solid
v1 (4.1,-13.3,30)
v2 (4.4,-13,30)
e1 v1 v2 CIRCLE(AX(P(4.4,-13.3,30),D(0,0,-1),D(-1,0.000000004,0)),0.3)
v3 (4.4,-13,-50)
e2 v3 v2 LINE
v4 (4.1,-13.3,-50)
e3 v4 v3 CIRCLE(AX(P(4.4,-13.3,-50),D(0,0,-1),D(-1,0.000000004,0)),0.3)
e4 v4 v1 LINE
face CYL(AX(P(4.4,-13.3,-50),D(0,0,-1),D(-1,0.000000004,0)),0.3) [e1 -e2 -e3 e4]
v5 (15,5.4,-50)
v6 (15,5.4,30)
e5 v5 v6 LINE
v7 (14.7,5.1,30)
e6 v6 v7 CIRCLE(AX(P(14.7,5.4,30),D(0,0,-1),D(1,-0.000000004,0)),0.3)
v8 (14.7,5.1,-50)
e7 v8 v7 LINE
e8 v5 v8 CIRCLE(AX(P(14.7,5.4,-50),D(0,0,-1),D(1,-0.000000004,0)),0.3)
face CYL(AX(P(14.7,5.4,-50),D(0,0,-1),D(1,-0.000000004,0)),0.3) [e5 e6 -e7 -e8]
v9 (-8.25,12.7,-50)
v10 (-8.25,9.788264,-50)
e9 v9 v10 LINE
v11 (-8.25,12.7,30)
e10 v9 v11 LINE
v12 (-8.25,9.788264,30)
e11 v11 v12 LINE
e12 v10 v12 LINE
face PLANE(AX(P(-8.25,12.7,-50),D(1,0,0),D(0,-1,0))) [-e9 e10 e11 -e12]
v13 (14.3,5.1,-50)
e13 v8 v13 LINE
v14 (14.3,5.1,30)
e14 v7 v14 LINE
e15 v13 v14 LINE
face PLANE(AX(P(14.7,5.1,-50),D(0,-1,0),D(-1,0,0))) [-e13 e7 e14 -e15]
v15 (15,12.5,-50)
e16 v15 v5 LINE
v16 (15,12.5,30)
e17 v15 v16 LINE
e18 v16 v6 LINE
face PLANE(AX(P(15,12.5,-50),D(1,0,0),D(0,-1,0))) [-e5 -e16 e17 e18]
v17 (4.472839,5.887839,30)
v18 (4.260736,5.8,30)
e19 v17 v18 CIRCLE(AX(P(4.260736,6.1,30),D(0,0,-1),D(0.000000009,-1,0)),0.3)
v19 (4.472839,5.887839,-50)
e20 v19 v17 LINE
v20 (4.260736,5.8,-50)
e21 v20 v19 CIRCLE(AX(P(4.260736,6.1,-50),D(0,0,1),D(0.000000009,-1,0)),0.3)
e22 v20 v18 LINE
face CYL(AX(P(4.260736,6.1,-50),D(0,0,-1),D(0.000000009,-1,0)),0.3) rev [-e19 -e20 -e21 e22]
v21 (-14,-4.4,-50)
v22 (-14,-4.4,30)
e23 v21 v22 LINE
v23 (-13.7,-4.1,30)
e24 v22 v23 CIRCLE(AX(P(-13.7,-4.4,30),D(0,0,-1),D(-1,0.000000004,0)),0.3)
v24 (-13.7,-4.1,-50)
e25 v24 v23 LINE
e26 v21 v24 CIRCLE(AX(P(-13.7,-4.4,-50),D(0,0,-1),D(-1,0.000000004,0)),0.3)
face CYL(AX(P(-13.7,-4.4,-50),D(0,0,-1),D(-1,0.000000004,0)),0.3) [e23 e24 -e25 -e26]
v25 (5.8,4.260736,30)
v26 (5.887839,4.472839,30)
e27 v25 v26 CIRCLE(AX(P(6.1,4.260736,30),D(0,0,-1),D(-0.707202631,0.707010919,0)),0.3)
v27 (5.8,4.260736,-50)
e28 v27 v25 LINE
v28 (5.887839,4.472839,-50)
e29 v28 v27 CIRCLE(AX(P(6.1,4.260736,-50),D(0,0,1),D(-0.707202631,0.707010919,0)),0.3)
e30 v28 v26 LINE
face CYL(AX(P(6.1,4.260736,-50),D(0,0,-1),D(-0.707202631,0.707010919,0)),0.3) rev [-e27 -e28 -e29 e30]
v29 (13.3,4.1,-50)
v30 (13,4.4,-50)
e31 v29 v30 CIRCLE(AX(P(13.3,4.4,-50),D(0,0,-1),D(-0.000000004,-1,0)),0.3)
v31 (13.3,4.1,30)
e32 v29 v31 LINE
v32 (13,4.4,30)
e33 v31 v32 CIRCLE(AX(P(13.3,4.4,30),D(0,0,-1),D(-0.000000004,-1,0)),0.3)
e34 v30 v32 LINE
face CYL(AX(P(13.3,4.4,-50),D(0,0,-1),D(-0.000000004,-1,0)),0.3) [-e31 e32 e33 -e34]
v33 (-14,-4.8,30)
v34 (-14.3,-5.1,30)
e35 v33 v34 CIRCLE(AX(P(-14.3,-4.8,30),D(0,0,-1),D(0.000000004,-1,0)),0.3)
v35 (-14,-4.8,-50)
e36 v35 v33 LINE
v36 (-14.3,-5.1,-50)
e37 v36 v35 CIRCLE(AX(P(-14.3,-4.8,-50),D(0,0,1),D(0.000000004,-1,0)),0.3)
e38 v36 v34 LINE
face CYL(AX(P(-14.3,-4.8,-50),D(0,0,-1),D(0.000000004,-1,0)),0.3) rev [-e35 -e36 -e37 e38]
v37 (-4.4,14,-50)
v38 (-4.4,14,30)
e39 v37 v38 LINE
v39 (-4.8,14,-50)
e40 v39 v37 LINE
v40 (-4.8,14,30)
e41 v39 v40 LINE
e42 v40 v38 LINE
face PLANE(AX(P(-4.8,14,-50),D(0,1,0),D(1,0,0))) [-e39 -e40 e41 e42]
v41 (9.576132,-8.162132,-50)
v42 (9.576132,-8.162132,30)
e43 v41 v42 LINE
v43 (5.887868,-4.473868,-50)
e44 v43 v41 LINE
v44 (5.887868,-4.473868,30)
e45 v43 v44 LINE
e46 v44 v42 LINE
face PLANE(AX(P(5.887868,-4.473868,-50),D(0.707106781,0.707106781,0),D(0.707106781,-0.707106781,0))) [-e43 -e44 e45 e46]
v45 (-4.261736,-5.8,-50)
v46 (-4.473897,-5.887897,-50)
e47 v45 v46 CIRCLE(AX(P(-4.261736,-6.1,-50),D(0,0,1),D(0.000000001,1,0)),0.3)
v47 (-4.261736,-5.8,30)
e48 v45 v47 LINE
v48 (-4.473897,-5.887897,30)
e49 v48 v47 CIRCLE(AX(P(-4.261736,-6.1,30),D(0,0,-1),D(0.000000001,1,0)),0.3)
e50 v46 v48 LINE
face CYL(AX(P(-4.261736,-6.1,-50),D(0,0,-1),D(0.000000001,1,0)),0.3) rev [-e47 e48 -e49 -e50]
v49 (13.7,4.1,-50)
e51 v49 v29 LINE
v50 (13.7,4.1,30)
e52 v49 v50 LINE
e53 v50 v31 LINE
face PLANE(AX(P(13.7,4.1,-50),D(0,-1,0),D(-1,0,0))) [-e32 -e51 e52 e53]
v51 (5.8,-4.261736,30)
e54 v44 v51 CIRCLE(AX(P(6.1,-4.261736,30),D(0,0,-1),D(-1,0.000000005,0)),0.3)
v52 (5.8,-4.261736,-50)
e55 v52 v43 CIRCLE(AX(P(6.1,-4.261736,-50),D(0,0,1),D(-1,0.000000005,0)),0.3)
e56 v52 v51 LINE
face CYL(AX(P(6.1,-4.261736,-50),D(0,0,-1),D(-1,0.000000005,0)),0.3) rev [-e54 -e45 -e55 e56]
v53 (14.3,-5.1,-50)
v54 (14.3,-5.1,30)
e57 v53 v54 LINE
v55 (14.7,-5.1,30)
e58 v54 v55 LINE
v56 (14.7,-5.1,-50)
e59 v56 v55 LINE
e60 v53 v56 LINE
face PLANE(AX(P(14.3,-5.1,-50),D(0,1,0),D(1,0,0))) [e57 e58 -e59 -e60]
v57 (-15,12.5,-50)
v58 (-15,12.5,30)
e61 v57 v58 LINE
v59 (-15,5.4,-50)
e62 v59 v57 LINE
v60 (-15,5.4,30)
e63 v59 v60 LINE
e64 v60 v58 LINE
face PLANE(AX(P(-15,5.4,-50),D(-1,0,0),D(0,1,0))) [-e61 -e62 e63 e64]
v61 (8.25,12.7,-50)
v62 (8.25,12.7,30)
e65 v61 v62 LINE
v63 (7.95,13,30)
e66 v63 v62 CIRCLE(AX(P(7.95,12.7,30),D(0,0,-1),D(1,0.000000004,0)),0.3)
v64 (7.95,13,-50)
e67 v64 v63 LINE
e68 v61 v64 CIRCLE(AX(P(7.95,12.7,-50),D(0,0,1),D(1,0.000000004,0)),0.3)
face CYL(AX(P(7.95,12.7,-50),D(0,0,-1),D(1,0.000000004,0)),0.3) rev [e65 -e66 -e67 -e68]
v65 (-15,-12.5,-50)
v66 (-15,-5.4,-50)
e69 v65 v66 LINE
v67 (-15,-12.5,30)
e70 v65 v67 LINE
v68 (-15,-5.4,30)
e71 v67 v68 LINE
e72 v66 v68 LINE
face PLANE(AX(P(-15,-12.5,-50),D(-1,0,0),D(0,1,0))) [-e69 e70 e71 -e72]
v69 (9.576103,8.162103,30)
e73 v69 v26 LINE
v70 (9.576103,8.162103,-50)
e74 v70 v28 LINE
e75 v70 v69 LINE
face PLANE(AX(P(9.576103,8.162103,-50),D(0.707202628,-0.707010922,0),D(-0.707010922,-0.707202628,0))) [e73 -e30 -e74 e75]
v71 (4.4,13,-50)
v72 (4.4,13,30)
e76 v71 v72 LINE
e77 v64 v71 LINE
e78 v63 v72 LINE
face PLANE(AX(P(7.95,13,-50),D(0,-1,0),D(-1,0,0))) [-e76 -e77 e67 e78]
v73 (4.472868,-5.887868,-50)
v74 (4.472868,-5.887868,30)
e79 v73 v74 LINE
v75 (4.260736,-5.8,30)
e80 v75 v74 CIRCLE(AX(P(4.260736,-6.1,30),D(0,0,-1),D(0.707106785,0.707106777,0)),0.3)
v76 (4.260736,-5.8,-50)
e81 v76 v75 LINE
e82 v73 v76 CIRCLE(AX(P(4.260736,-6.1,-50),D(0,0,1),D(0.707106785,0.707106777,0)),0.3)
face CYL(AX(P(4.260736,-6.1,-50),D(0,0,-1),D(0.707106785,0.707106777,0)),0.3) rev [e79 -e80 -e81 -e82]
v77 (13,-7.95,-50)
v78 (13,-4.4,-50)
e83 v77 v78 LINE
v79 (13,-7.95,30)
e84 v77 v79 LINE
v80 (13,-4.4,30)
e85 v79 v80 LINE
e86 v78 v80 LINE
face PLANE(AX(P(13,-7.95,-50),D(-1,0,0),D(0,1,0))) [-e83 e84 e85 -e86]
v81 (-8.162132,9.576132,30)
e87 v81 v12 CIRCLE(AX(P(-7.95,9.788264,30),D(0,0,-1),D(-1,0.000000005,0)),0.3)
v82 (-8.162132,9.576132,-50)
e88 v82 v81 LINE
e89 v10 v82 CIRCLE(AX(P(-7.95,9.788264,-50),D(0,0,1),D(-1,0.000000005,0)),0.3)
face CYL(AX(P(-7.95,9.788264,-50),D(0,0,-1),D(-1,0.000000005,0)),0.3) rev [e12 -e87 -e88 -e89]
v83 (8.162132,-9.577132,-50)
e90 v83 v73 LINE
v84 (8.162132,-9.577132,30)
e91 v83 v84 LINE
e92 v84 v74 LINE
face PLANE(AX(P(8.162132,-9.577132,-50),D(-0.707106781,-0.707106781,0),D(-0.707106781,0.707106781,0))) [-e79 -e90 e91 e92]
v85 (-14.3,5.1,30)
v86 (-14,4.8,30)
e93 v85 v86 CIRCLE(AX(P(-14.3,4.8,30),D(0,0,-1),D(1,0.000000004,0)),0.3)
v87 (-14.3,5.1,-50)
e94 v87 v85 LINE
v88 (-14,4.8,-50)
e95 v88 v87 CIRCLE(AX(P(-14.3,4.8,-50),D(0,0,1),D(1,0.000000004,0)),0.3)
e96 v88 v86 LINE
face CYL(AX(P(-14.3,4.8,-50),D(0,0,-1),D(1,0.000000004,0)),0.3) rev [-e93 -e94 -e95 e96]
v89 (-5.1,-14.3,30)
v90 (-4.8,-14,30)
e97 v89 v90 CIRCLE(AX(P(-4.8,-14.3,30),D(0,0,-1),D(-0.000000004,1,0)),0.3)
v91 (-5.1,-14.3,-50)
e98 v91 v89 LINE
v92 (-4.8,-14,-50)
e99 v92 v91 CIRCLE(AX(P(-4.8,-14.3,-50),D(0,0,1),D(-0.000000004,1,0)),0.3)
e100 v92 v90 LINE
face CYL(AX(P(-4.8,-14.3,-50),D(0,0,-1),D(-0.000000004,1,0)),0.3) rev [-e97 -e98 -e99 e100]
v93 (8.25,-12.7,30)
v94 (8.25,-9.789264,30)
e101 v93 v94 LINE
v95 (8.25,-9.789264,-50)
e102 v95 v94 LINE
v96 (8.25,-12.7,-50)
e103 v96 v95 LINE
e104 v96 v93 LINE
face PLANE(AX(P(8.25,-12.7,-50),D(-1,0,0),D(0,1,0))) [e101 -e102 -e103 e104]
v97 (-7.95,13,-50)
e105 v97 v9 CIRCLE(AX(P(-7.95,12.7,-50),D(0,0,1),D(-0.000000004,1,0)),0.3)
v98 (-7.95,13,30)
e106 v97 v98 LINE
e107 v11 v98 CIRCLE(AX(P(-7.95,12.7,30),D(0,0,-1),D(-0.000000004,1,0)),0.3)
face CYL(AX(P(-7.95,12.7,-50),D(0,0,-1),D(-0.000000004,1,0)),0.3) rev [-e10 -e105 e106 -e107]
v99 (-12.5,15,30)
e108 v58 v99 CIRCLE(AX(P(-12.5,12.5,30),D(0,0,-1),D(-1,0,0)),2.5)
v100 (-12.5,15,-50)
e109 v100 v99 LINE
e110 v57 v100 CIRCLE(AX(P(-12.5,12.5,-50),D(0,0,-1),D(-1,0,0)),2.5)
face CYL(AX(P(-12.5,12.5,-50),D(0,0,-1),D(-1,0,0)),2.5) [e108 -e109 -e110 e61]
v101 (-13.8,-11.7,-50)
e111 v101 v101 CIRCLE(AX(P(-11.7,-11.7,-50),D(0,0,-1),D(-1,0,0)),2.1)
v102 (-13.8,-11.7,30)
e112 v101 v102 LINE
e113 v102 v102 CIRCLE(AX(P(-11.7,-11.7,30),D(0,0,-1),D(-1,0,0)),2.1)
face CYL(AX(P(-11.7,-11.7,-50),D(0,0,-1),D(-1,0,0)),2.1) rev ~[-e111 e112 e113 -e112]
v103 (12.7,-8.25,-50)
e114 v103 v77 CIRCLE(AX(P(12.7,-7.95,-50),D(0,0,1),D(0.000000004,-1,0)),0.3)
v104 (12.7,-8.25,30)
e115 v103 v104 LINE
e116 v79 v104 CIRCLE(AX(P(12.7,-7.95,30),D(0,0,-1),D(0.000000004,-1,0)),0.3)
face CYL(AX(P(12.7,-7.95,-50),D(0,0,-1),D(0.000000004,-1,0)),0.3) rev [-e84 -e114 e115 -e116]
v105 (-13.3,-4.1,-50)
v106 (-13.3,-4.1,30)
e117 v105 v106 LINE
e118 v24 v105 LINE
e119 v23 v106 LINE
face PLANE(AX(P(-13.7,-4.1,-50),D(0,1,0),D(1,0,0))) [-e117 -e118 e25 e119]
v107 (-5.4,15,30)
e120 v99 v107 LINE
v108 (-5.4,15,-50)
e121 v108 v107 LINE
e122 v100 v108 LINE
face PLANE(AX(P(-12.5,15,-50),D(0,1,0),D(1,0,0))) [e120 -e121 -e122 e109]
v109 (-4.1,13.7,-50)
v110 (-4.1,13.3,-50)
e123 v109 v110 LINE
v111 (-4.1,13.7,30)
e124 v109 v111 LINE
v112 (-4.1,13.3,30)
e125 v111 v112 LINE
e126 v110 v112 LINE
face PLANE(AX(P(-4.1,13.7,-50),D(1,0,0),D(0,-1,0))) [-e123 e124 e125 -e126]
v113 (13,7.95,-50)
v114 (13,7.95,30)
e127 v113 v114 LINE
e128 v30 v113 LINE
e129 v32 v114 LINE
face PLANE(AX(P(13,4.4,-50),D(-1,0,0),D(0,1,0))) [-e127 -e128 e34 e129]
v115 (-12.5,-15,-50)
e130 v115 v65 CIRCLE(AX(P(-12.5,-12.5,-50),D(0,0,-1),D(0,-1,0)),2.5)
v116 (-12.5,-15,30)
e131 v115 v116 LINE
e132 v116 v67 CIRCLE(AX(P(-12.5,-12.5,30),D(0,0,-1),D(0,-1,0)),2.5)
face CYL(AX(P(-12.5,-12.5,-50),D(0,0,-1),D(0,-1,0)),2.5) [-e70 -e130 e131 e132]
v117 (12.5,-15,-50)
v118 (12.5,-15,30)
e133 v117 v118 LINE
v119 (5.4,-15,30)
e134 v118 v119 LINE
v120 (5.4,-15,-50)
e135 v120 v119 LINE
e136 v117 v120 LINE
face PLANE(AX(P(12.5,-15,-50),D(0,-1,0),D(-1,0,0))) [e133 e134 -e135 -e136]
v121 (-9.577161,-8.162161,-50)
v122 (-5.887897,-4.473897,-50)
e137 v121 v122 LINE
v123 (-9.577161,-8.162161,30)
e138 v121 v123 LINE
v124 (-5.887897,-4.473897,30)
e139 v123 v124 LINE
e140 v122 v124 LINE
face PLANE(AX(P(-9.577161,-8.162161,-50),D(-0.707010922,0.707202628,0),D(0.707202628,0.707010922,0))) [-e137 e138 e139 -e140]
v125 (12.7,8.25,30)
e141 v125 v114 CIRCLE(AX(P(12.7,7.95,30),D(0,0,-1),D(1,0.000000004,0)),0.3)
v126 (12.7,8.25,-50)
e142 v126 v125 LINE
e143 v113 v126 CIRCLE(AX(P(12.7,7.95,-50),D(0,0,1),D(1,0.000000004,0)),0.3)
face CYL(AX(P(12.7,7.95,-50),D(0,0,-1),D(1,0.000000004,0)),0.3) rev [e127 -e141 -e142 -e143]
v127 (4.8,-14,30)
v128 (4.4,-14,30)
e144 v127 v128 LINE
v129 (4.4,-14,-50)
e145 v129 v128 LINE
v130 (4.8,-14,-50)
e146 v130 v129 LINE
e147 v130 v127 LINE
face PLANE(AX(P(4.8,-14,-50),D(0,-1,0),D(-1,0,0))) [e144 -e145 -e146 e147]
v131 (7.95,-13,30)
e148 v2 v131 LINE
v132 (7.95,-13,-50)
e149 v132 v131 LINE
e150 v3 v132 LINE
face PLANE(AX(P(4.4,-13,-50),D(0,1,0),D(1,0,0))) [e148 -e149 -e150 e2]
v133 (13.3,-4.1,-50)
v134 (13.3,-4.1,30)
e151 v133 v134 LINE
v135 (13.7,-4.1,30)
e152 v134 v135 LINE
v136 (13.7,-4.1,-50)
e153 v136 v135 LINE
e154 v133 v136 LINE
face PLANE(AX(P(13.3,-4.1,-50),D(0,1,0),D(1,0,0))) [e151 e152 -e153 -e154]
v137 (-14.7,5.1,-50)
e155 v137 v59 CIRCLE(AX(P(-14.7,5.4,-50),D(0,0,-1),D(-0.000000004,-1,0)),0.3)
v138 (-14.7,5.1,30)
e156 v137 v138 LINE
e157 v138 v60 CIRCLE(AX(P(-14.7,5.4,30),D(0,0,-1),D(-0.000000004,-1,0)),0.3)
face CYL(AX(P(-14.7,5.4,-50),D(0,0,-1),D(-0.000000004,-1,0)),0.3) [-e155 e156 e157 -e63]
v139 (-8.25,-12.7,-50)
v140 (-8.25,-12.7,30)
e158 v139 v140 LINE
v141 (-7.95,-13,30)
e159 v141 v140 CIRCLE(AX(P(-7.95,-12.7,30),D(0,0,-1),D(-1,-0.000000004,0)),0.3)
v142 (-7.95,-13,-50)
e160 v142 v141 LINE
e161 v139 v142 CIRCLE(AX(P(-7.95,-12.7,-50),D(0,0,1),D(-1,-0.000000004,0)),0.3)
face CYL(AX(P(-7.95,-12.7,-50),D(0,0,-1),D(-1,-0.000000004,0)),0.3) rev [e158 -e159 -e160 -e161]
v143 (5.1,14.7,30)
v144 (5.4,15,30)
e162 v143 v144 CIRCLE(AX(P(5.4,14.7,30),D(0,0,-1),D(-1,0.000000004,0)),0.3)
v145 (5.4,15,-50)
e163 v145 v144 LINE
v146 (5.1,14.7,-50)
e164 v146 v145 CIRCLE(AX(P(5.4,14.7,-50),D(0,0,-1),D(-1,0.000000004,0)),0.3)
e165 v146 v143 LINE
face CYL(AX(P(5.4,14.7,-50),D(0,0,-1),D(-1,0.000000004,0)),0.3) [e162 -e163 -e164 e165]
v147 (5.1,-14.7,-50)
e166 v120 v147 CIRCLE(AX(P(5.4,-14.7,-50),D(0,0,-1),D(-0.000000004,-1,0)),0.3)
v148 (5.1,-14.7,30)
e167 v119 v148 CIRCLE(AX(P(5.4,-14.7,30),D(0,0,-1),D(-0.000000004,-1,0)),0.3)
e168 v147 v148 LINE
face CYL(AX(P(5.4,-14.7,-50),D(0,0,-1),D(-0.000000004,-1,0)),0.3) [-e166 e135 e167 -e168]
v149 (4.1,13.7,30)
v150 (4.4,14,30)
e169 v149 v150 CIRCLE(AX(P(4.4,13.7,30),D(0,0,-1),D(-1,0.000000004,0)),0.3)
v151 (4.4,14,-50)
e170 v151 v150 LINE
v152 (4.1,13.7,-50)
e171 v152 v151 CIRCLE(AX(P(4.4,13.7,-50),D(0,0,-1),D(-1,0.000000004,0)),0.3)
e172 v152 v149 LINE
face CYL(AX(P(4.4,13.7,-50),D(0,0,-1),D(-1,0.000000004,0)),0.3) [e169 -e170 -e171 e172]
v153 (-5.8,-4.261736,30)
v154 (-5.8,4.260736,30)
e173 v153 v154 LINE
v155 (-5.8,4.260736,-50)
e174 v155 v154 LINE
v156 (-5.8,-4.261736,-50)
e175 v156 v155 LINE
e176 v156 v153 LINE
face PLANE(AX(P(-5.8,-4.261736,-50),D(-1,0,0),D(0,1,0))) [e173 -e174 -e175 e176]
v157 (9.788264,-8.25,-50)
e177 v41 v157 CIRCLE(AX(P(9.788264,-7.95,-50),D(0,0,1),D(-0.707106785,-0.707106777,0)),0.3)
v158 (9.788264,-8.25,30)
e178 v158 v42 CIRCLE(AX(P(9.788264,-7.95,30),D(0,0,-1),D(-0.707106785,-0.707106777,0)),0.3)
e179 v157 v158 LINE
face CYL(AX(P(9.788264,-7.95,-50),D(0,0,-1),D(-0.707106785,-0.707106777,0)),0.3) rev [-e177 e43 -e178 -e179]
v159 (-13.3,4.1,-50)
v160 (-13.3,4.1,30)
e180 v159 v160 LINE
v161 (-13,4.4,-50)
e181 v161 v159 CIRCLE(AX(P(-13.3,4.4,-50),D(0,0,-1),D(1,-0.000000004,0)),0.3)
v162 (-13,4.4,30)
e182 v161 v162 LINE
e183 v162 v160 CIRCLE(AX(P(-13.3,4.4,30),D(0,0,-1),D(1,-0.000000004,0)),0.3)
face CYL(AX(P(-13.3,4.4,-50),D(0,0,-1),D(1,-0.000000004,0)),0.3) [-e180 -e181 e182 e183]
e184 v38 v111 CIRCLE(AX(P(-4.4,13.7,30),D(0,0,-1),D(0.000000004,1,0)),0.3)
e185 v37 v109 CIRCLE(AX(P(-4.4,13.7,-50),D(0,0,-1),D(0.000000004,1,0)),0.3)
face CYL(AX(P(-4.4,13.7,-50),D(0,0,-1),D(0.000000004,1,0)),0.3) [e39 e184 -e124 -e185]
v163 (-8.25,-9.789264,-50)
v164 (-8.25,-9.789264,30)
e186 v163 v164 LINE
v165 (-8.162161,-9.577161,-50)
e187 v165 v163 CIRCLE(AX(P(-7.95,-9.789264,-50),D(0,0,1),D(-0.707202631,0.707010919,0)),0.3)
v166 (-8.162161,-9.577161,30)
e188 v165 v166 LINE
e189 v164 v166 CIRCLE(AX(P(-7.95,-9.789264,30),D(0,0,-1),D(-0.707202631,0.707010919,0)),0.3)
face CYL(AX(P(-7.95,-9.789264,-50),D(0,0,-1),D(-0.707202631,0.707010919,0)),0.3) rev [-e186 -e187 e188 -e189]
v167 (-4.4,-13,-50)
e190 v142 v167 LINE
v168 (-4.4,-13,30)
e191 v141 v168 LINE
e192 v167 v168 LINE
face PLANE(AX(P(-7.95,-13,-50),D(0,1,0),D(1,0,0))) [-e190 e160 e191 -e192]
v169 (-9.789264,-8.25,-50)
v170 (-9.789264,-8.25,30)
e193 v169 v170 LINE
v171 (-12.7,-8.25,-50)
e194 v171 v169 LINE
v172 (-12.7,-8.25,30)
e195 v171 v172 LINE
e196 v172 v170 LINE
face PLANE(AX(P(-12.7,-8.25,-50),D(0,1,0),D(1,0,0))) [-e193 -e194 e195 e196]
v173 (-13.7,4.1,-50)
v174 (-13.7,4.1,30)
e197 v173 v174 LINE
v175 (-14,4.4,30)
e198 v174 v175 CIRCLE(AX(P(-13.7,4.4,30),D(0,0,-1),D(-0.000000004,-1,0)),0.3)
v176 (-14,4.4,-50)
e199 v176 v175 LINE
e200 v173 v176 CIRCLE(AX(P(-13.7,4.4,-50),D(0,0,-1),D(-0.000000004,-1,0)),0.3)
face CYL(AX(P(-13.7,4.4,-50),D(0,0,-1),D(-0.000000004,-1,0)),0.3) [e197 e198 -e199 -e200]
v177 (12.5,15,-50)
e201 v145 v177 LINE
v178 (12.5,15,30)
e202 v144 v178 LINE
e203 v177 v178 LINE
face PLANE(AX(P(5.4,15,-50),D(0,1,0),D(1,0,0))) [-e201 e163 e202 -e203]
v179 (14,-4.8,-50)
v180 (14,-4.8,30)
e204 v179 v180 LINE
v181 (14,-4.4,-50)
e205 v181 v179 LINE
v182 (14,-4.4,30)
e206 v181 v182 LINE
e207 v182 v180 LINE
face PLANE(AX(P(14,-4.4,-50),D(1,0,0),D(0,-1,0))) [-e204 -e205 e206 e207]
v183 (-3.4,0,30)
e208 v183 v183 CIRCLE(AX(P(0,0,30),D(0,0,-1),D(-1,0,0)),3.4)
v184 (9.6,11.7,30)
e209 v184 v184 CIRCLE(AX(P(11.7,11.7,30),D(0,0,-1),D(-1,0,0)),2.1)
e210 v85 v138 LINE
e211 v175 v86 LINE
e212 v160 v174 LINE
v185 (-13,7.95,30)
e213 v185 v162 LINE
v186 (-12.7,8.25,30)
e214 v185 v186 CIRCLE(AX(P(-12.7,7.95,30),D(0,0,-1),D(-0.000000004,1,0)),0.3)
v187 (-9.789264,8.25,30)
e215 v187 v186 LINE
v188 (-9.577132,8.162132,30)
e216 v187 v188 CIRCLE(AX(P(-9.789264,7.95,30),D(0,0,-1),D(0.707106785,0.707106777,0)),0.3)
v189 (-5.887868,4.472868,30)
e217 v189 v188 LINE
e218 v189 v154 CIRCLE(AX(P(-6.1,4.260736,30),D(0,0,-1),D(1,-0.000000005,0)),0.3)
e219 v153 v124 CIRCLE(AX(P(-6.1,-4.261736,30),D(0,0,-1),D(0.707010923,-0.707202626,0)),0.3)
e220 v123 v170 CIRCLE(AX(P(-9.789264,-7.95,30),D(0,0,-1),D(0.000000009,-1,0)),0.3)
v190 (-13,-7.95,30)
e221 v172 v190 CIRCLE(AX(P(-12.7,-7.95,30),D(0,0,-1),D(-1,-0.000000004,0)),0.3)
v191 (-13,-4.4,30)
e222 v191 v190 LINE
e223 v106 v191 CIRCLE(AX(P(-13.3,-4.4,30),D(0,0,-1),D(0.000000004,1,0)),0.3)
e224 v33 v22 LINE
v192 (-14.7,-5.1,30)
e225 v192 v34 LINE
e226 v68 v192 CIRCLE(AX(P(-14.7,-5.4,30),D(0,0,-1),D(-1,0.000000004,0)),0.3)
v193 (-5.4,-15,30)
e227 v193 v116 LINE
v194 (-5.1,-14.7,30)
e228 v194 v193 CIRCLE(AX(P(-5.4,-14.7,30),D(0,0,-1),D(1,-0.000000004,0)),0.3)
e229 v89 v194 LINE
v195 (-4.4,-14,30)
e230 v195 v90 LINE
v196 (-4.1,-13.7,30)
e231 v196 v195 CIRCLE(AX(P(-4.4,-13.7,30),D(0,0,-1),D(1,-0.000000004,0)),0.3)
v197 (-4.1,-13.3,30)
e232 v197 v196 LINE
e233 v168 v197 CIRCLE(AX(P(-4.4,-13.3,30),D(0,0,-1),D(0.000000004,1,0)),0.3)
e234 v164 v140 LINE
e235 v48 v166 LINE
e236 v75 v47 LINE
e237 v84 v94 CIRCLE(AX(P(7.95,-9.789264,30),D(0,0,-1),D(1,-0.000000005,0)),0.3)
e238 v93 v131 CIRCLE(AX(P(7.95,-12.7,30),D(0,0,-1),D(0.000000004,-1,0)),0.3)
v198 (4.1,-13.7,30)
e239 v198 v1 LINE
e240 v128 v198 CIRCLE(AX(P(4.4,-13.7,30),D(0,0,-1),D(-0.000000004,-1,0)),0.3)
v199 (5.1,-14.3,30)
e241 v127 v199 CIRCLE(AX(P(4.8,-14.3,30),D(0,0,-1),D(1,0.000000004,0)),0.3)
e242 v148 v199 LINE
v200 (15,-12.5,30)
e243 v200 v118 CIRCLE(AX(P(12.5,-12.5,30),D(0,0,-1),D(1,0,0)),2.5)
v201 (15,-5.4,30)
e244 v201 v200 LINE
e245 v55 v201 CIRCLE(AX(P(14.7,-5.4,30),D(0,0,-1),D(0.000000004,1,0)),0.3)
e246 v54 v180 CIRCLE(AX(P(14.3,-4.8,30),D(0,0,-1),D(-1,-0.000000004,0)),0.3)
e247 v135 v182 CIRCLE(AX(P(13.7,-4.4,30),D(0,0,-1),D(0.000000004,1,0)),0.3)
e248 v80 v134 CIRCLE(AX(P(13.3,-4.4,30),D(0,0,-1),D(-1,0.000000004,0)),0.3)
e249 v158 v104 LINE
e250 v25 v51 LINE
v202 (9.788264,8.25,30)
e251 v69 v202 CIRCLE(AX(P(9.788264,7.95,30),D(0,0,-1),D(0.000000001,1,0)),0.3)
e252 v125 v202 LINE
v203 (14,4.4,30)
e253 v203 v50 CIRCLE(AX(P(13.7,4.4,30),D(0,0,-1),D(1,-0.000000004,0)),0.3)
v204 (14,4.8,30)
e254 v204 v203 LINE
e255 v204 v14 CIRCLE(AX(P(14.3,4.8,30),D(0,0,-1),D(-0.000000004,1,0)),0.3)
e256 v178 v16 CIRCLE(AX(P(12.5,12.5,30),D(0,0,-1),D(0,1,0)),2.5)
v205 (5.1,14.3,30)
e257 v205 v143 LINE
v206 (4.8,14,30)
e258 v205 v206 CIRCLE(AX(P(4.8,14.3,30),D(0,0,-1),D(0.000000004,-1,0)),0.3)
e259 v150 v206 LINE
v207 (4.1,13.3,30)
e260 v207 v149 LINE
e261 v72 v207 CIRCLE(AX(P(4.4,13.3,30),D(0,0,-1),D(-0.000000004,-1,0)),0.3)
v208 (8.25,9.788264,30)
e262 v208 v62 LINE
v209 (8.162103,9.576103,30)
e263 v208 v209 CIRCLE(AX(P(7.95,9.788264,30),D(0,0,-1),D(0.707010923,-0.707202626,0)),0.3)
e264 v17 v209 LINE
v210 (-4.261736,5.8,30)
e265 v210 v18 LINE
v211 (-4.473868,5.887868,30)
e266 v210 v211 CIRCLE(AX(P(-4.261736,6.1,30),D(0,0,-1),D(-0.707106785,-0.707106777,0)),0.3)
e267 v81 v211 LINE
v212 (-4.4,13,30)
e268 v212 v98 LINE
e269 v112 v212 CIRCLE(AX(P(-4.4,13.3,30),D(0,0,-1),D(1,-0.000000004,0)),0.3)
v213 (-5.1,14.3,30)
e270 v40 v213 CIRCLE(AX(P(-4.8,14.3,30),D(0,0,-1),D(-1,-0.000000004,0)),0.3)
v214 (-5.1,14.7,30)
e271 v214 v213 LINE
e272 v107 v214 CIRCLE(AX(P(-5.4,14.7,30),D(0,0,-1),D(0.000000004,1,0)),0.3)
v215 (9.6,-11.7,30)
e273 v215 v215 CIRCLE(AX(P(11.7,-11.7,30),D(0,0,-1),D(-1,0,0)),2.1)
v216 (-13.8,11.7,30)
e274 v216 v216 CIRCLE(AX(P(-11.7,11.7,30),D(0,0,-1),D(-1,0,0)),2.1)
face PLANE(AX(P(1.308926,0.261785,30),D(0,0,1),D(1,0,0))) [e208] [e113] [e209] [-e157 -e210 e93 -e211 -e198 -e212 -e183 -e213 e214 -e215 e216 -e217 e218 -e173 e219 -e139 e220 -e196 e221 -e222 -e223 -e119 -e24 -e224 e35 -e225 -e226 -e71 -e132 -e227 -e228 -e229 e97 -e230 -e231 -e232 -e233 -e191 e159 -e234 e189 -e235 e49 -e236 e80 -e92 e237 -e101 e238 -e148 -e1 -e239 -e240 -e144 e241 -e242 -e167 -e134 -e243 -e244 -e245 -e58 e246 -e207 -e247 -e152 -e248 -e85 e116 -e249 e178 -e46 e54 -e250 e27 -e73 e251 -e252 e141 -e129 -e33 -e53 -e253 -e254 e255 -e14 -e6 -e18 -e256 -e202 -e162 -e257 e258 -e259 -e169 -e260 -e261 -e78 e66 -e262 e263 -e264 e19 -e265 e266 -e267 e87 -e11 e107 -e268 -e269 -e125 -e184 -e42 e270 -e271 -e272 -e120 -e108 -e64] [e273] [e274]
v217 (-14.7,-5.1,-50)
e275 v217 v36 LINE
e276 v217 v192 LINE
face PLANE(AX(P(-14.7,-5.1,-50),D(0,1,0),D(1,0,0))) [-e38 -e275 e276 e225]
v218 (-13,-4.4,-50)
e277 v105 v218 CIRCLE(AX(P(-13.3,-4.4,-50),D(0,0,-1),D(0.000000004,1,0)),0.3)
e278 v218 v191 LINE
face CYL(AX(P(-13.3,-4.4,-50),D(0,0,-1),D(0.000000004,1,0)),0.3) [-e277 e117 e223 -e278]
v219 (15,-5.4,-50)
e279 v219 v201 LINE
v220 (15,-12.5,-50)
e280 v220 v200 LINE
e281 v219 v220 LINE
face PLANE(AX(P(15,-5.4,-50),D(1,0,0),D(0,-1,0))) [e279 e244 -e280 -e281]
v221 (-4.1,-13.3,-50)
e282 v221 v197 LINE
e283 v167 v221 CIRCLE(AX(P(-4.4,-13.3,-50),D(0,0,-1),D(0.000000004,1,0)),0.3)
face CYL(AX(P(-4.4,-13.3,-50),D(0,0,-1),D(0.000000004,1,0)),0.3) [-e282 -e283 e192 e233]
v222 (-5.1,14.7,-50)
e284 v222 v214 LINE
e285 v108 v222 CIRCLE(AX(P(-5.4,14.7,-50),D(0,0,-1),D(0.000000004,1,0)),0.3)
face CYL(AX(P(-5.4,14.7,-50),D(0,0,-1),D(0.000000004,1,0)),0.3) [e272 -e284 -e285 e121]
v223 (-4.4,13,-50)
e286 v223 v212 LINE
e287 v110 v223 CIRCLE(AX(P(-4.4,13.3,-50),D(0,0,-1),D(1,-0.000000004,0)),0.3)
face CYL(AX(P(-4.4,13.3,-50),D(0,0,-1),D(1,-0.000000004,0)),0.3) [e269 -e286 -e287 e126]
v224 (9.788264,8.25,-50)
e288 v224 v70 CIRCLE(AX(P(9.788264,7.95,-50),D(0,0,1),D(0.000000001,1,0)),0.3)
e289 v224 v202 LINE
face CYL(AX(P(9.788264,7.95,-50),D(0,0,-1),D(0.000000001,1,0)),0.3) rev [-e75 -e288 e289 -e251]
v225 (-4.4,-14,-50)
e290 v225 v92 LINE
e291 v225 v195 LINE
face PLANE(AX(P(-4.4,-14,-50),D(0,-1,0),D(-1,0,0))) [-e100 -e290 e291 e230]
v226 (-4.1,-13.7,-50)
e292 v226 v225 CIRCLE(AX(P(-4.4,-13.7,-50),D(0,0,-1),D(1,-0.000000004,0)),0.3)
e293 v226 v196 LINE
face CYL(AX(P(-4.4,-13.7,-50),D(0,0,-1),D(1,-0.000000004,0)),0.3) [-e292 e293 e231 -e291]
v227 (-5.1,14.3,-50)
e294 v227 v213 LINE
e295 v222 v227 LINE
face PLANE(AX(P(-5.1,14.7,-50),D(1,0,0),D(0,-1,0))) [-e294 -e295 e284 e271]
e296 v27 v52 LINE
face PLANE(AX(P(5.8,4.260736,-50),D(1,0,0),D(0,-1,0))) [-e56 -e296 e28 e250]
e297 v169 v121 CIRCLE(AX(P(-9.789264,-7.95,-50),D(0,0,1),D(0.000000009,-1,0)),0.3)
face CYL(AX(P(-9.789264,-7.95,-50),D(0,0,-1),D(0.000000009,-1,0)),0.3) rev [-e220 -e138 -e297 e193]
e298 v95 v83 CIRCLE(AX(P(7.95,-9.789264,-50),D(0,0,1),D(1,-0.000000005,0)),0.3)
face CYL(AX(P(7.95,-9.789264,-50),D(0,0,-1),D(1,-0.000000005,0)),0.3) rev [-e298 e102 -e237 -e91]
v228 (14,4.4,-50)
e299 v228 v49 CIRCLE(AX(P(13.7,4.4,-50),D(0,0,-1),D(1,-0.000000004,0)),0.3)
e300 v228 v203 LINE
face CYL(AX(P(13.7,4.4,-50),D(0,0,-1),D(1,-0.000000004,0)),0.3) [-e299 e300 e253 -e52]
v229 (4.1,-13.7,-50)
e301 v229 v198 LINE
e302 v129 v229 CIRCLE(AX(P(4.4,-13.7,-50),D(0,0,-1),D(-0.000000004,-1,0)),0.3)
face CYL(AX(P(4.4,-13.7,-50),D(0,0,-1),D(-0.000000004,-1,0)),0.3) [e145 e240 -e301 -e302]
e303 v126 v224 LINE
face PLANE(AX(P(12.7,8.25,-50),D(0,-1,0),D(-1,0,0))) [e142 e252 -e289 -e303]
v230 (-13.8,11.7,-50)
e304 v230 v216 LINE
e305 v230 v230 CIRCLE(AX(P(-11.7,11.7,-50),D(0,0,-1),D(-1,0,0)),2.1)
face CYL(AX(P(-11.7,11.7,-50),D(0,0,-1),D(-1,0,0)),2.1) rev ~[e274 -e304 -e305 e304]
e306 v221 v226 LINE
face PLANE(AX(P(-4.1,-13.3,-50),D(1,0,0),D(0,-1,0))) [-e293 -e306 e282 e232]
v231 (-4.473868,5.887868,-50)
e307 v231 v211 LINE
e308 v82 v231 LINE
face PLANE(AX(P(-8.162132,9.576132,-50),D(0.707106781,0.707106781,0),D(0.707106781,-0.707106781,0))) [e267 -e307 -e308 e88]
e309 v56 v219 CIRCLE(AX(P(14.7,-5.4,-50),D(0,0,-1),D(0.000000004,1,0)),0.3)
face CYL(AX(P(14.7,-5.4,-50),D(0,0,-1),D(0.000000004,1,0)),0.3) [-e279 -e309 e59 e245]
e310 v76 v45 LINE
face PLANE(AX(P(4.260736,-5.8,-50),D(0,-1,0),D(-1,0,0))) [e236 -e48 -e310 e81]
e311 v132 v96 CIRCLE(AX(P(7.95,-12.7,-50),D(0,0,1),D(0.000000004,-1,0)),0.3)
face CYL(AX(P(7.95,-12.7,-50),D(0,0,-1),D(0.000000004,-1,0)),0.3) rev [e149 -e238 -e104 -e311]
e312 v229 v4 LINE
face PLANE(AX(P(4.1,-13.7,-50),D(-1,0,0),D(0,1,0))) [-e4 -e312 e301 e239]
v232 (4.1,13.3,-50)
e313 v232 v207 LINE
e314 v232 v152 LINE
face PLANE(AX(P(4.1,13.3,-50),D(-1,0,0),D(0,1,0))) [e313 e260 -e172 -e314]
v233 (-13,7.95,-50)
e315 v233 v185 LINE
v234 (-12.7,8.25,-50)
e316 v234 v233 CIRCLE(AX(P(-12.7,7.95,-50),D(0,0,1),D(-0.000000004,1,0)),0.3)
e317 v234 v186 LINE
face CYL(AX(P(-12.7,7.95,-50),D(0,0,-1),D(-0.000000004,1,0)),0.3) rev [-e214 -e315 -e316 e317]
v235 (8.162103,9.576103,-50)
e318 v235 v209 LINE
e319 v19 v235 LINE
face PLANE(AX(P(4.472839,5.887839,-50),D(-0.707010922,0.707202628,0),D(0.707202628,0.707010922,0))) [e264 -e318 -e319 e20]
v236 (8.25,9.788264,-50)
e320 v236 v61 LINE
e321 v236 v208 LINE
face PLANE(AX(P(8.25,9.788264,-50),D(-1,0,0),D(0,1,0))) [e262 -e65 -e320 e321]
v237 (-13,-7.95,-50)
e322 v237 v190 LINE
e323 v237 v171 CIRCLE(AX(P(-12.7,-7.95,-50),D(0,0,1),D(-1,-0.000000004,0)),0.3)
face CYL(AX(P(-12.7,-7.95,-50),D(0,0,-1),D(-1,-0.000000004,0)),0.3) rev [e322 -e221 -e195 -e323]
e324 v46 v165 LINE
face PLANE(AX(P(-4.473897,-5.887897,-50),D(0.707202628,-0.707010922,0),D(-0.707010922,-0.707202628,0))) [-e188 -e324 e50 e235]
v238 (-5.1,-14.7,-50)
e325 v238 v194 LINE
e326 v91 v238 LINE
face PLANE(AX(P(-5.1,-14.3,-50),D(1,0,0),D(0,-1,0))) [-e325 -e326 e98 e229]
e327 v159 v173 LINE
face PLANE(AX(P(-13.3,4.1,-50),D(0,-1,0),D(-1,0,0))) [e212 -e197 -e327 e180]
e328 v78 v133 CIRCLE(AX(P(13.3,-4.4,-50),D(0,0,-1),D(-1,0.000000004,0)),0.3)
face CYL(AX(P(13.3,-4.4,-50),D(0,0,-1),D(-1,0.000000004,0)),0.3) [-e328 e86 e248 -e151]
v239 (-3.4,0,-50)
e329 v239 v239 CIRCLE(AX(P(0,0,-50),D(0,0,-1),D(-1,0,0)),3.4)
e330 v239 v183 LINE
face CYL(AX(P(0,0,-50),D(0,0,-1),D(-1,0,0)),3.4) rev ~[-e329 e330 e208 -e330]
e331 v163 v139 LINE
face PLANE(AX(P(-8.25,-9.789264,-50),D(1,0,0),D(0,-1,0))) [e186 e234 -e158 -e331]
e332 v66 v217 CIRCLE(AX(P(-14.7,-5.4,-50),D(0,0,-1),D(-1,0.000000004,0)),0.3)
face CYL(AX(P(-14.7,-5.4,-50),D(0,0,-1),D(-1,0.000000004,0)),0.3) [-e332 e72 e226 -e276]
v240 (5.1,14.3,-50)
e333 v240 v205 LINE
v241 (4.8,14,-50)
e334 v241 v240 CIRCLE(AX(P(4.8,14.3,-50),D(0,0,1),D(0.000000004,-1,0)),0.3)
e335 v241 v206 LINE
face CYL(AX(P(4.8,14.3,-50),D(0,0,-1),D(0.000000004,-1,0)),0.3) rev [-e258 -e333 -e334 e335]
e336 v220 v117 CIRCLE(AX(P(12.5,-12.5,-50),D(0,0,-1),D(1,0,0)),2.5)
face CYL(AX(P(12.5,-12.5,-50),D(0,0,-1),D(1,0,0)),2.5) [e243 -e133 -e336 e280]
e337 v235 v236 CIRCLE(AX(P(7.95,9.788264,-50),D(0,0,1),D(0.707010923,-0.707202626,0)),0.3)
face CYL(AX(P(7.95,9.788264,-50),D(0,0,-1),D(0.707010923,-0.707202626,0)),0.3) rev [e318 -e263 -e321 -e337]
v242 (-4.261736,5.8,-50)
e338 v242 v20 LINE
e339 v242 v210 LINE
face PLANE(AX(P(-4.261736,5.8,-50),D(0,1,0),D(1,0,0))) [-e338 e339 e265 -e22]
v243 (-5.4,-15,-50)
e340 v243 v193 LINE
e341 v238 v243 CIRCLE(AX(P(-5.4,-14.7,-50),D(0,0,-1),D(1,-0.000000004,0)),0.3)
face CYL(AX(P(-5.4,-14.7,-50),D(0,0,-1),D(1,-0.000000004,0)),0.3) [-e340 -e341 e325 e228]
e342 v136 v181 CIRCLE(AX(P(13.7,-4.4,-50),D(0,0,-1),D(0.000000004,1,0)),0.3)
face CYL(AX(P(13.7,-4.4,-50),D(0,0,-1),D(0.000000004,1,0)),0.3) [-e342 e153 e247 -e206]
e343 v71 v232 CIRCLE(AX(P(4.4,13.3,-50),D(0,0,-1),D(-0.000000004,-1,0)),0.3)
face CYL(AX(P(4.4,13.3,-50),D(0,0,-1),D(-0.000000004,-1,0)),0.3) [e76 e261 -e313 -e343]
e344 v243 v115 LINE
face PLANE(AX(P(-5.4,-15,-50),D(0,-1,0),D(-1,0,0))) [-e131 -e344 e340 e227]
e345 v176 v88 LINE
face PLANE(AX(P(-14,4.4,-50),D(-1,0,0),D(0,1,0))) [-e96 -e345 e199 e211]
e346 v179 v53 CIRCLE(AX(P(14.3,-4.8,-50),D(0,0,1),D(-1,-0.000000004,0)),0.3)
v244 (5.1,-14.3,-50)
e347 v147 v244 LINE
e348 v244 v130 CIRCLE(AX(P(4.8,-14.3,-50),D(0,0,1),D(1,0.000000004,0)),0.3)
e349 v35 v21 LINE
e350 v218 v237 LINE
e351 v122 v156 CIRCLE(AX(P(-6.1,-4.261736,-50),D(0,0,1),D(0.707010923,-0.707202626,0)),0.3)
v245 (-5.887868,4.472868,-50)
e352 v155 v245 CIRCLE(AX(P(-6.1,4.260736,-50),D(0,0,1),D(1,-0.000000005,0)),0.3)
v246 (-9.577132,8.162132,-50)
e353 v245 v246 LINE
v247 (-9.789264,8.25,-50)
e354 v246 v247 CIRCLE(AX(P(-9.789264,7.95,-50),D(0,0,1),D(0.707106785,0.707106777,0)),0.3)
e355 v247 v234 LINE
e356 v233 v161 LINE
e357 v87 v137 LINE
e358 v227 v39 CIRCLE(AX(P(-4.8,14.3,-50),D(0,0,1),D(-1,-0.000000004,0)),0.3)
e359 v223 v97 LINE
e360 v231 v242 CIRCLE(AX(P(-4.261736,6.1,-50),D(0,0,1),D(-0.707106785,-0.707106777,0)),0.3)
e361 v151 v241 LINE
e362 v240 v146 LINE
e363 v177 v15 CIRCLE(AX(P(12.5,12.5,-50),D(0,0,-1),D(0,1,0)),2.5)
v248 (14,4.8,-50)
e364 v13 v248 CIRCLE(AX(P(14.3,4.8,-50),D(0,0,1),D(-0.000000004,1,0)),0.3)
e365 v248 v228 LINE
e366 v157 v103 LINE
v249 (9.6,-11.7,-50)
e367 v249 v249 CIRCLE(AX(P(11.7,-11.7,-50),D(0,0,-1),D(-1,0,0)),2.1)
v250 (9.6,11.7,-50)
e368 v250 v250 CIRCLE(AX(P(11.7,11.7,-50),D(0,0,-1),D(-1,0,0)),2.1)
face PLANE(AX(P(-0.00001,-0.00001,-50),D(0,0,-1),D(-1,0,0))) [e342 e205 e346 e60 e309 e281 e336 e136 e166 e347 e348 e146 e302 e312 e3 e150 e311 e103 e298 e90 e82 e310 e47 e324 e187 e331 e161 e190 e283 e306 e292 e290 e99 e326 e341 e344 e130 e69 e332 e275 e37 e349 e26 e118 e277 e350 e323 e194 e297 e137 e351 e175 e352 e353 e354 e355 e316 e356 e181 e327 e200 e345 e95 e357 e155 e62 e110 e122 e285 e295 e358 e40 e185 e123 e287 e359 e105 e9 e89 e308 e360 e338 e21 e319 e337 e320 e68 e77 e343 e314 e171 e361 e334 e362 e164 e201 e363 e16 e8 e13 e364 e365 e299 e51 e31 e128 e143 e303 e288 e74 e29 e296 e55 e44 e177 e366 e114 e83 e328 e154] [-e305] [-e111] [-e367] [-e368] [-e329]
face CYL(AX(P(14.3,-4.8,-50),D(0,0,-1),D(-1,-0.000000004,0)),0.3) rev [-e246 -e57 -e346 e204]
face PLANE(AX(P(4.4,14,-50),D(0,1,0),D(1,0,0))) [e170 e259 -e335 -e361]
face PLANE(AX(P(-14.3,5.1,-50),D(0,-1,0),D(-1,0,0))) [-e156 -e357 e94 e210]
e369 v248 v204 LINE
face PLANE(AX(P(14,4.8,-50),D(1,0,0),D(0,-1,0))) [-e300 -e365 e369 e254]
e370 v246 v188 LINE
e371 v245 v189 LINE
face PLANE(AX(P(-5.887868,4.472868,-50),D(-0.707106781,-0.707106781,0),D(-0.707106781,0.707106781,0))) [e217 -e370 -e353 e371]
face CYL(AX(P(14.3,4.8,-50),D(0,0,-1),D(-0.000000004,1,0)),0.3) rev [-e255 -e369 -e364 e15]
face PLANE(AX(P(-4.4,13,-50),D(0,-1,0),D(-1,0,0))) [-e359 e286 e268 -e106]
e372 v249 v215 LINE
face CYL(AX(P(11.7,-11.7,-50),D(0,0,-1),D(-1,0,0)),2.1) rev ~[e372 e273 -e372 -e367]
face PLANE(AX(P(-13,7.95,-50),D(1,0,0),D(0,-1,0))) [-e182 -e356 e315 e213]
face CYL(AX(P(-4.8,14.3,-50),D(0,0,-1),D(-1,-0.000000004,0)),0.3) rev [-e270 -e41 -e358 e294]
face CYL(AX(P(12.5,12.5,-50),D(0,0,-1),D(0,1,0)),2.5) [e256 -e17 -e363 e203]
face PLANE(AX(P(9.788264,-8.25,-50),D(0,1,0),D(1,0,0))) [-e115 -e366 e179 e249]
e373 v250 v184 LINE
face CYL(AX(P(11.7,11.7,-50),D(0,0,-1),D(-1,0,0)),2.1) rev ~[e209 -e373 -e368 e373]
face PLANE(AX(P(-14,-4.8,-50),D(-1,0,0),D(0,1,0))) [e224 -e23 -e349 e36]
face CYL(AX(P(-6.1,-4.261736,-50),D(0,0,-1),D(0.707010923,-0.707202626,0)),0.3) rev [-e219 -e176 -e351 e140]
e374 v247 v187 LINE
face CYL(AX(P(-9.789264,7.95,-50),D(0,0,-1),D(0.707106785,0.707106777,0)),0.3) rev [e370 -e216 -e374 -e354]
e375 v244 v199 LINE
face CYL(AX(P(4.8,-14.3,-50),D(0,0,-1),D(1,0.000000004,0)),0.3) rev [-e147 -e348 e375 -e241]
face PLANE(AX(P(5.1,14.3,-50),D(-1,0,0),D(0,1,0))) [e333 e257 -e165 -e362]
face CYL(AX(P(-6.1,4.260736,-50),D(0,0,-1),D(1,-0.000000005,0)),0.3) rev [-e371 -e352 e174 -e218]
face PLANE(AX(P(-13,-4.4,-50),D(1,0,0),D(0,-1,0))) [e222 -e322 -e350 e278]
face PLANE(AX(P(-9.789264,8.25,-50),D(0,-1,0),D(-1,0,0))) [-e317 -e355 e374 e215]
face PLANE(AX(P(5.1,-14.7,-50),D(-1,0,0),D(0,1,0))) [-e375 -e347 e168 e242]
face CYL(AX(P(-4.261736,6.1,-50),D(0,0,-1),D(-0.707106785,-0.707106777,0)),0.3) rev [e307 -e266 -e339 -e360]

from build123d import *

# Parameters (mm, degrees)
CROQUIS1_R              = 2.1
CROQUIS1_R_2            = 3.4
SALIENTE_EXTRUIR1_DEPTH = 400
CROQUIS2_W              = 38.422022472
CROQUIS2_H              = 31.615605493
CORTAR_EXTRUIR1_DEPTH   = 320


with BuildPart() as part:
    # Croquis1 → Saliente-Extruir1 (new body)
    with BuildSketch(Plane(origin=(0, 0, -50), x_dir=(-1, 0, 0), z_dir=(0, 0, -1))):
        with BuildLine():
            Line((14.7, -5.1), (14.3, -5.1))
            ThreePointArc((14.3, -5.1), (14.087867966, -5.012132034), (14, -4.8))
            Line((14, -4.8), (14, -4.4))
            ThreePointArc((14, -4.4), (13.912132034, -4.187867966), (13.7, -4.1))
            Line((13.7, -4.1), (13.3, -4.1))
            ThreePointArc((13.3, -4.1), (13.087867966, -4.187867966), (13, -4.4))
            Line((13, -4.4), (13, -7.95))
            ThreePointArc((13, -7.95), (12.912132034, -8.162132034), (12.7, -8.25))
            Line((12.7, -8.25), (9.789264108, -8.25))
            ThreePointArc((9.789264108, -8.25), (9.674477865, -8.22717164), (9.577160832, -8.162160788))
            Line((9.577160832, -8.162160788), (5.887896723, -4.473896751))
            ThreePointArc((5.887896723, -4.473896751), (5.822843922, -4.376559778), (5.8, -4.261735963))
            Line((5.8, -4.261735963), (5.8, 4.260735931))
            ThreePointArc((5.8, 4.260735931), (5.82283614, 4.375540961), (5.887867966, 4.472867966))
            Line((5.887867966, 4.472867966), (9.577132034, 8.162132034))
            ThreePointArc((9.577132034, 8.162132034), (9.674459039, 8.22716386), (9.789264069, 8.25))
            Line((9.789264069, 8.25), (12.7, 8.25))
            ThreePointArc((12.7, 8.25), (12.912132034, 8.162132034), (13, 7.95))
            Line((13, 7.95), (13, 4.4))
            ThreePointArc((13, 4.4), (13.087867966, 4.187867966), (13.3, 4.1))
            Line((13.3, 4.1), (13.7, 4.1))
            ThreePointArc((13.7, 4.1), (13.912132034, 4.187867966), (14, 4.4))
            Line((14, 4.4), (14, 4.8))
            ThreePointArc((14, 4.8), (14.087867966, 5.012132034), (14.3, 5.1))
            Line((14.3, 5.1), (14.7, 5.1))
            ThreePointArc((14.7, 5.1), (14.912132034, 5.187867966), (15, 5.4))
            Line((15, 5.4), (15, 12.5))
            ThreePointArc((15, 12.5), (14.267766953, 14.267766953), (12.5, 15))
            Line((12.5, 15), (5.4, 15))
            ThreePointArc((5.4, 15), (5.187867966, 14.912132034), (5.1, 14.7))
            Line((5.1, 14.7), (5.1, 14.3))
            ThreePointArc((5.1, 14.3), (5.012132034, 14.087867966), (4.8, 14))
            Line((4.8, 14), (4.4, 14))
            ThreePointArc((4.4, 14), (4.187867966, 13.912132034), (4.1, 13.7))
            Line((4.1, 13.7), (4.1, 13.3))
            ThreePointArc((4.1, 13.3), (4.187867966, 13.087867966), (4.4, 13))
            Line((4.4, 13), (7.95, 13))
            ThreePointArc((7.95, 13), (8.162132034, 12.912132034), (8.25, 12.7))
            Line((8.25, 12.7), (8.25, 9.788264069))
            ThreePointArc((8.25, 9.788264069), (8.22716386, 9.673459039), (8.162132034, 9.576132034))
            Line((8.162132034, 9.576132034), (4.473867966, 5.887867966))
            ThreePointArc((4.473867966, 5.887867966), (4.376540961, 5.82283614), (4.261735931, 5.8))
            Line((4.261735931, 5.8), (-4.260735892, 5.8))
            ThreePointArc((-4.260735892, 5.8), (-4.375522135, 5.82282836), (-4.472839168, 5.887839212))
            Line((-4.472839168, 5.887839212), (-8.162103277, 9.576103249))
            ThreePointArc((-8.162103277, 9.576103249), (-8.227156078, 9.673440222), (-8.25, 9.788264037))
            Line((-8.25, 9.788264037), (-8.25, 12.7))
            ThreePointArc((-8.25, 12.7), (-8.162132034, 12.912132034), (-7.95, 13))
            Line((-7.95, 13), (-4.4, 13))
            ThreePointArc((-4.4, 13), (-4.187867966, 13.087867966), (-4.1, 13.3))
            Line((-4.1, 13.3), (-4.1, 13.7))
            ThreePointArc((-4.1, 13.7), (-4.187867966, 13.912132034), (-4.4, 14))
            Line((-4.4, 14), (-4.8, 14))
            ThreePointArc((-4.8, 14), (-5.012132034, 14.087867966), (-5.1, 14.3))
            Line((-5.1, 14.3), (-5.1, 14.7))
            ThreePointArc((-5.1, 14.7), (-5.187867966, 14.912132034), (-5.4, 15))
            Line((-5.4, 15), (-12.5, 15))
            ThreePointArc((-12.5, 15), (-14.267766953, 14.267766953), (-15, 12.5))
            Line((-15, 12.5), (-15, 5.4))
            ThreePointArc((-15, 5.4), (-14.912132034, 5.187867966), (-14.7, 5.1))
            Line((-14.7, 5.1), (-14.3, 5.1))
            ThreePointArc((-14.3, 5.1), (-14.087867966, 5.012132034), (-14, 4.8))
            Line((-14, 4.8), (-14, 4.4))
            ThreePointArc((-14, 4.4), (-13.912132034, 4.187867966), (-13.7, 4.1))
            Line((-13.7, 4.1), (-13.3, 4.1))
            ThreePointArc((-13.3, 4.1), (-13.087867966, 4.187867966), (-13, 4.4))
            Line((-13, 4.4), (-13, 7.95))
            ThreePointArc((-13, 7.95), (-12.912132034, 8.162132034), (-12.7, 8.25))
            Line((-12.7, 8.25), (-9.788264037, 8.25))
            ThreePointArc((-9.788264037, 8.25), (-9.673440222, 8.227156078), (-9.576103249, 8.162103277))
            Line((-9.576103249, 8.162103277), (-5.887839212, 4.472839168))
            ThreePointArc((-5.887839212, 4.472839168), (-5.82282836, 4.375522135), (-5.8, 4.260735892))
            Line((-5.8, 4.260735892), (-5.8, -4.261735931))
            ThreePointArc((-5.8, -4.261735931), (-5.82283614, -4.376540961), (-5.887867966, -4.473867966))
            Line((-5.887867966, -4.473867966), (-9.576132034, -8.162132034))
            ThreePointArc((-9.576132034, -8.162132034), (-9.673459039, -8.22716386), (-9.788264069, -8.25))
            Line((-9.788264069, -8.25), (-12.7, -8.25))
            ThreePointArc((-12.7, -8.25), (-12.912132034, -8.162132034), (-13, -7.95))
            Line((-13, -7.95), (-13, -4.4))
            ThreePointArc((-13, -4.4), (-13.087867966, -4.187867966), (-13.3, -4.1))
            Line((-13.3, -4.1), (-13.7, -4.1))
            ThreePointArc((-13.7, -4.1), (-13.912132034, -4.187867966), (-14, -4.4))
            Line((-14, -4.4), (-14, -4.8))
            ThreePointArc((-14, -4.8), (-14.087867966, -5.012132034), (-14.3, -5.1))
            Line((-14.3, -5.1), (-14.7, -5.1))
            ThreePointArc((-14.7, -5.1), (-14.912132034, -5.187867966), (-15, -5.4))
            Line((-15, -5.4), (-15, -12.5))
            ThreePointArc((-15, -12.5), (-14.267766953, -14.267766953), (-12.5, -15))
            Line((-12.5, -15), (-5.4, -15))
            ThreePointArc((-5.4, -15), (-5.187867966, -14.912132034), (-5.1, -14.7))
            Line((-5.1, -14.7), (-5.1, -14.3))
            ThreePointArc((-5.1, -14.3), (-5.012132034, -14.087867966), (-4.8, -14))
            Line((-4.8, -14), (-4.4, -14))
            ThreePointArc((-4.4, -14), (-4.187867966, -13.912132034), (-4.1, -13.7))
            Line((-4.1, -13.7), (-4.1, -13.3))
            ThreePointArc((-4.1, -13.3), (-4.187867966, -13.087867966), (-4.4, -13))
            Line((-4.4, -13), (-7.95, -13))
            ThreePointArc((-7.95, -13), (-8.162132034, -12.912132034), (-8.25, -12.7))
            Line((-8.25, -12.7), (-8.25, -9.789264069))
            ThreePointArc((-8.25, -9.789264069), (-8.22716386, -9.674459039), (-8.162132034, -9.577132034))
            Line((-8.162132034, -9.577132034), (-4.472867966, -5.887867966))
            ThreePointArc((-4.472867966, -5.887867966), (-4.375540961, -5.82283614), (-4.260735931, -5.8))
            Line((-4.260735931, -5.8), (4.261735963, -5.8))
            ThreePointArc((4.261735963, -5.8), (4.376559778, -5.822843922), (4.473896751, -5.887896723))
            Line((4.473896751, -5.887896723), (8.162160788, -9.577160832))
            ThreePointArc((8.162160788, -9.577160832), (8.22717164, -9.674477865), (8.25, -9.789264108))
            Line((8.25, -9.789264108), (8.25, -12.7))
            ThreePointArc((8.25, -12.7), (8.162132034, -12.912132034), (7.95, -13))
            Line((7.95, -13), (4.4, -13))
            ThreePointArc((4.4, -13), (4.187867966, -13.087867966), (4.1, -13.3))
            Line((4.1, -13.3), (4.1, -13.7))
            ThreePointArc((4.1, -13.7), (4.187867966, -13.912132034), (4.4, -14))
            Line((4.4, -14), (4.8, -14))
            ThreePointArc((4.8, -14), (5.012132034, -14.087867966), (5.1, -14.3))
            Line((5.1, -14.3), (5.1, -14.7))
            ThreePointArc((5.1, -14.7), (5.187867966, -14.912132034), (5.4, -15))
            Line((5.4, -15), (12.5, -15))
            ThreePointArc((12.5, -15), (14.267766953, -14.267766953), (15, -12.5))
            Line((15, -12.5), (15, -5.4))
            ThreePointArc((15, -5.4), (14.912132034, -5.187867966), (14.7, -5.1))
        make_face()
        with Locations((-11.7, 11.7)):
            Circle(CROQUIS1_R, mode=Mode.SUBTRACT)
        with Locations((-11.7, -11.7)):
            Circle(CROQUIS1_R, mode=Mode.SUBTRACT)
        Circle(CROQUIS1_R_2, mode=Mode.SUBTRACT)
        with Locations((11.7, 11.7)):
            Circle(CROQUIS1_R, mode=Mode.SUBTRACT)
        with Locations((11.7, -11.7)):
            Circle(CROQUIS1_R, mode=Mode.SUBTRACT)
    extrude(amount=-SALIENTE_EXTRUIR1_DEPTH)

    # Croquis2 → Cortar-Extruir1 (cut)
    with BuildSketch(Plane.XY.offset(350)):
        with Locations((1.308926342, 0.261785268)):
            Rectangle(CROQUIS2_W, CROQUIS2_H)
    extrude(amount=-CORTAR_EXTRUIR1_DEPTH, mode=Mode.SUBTRACT)


solid = part.part
